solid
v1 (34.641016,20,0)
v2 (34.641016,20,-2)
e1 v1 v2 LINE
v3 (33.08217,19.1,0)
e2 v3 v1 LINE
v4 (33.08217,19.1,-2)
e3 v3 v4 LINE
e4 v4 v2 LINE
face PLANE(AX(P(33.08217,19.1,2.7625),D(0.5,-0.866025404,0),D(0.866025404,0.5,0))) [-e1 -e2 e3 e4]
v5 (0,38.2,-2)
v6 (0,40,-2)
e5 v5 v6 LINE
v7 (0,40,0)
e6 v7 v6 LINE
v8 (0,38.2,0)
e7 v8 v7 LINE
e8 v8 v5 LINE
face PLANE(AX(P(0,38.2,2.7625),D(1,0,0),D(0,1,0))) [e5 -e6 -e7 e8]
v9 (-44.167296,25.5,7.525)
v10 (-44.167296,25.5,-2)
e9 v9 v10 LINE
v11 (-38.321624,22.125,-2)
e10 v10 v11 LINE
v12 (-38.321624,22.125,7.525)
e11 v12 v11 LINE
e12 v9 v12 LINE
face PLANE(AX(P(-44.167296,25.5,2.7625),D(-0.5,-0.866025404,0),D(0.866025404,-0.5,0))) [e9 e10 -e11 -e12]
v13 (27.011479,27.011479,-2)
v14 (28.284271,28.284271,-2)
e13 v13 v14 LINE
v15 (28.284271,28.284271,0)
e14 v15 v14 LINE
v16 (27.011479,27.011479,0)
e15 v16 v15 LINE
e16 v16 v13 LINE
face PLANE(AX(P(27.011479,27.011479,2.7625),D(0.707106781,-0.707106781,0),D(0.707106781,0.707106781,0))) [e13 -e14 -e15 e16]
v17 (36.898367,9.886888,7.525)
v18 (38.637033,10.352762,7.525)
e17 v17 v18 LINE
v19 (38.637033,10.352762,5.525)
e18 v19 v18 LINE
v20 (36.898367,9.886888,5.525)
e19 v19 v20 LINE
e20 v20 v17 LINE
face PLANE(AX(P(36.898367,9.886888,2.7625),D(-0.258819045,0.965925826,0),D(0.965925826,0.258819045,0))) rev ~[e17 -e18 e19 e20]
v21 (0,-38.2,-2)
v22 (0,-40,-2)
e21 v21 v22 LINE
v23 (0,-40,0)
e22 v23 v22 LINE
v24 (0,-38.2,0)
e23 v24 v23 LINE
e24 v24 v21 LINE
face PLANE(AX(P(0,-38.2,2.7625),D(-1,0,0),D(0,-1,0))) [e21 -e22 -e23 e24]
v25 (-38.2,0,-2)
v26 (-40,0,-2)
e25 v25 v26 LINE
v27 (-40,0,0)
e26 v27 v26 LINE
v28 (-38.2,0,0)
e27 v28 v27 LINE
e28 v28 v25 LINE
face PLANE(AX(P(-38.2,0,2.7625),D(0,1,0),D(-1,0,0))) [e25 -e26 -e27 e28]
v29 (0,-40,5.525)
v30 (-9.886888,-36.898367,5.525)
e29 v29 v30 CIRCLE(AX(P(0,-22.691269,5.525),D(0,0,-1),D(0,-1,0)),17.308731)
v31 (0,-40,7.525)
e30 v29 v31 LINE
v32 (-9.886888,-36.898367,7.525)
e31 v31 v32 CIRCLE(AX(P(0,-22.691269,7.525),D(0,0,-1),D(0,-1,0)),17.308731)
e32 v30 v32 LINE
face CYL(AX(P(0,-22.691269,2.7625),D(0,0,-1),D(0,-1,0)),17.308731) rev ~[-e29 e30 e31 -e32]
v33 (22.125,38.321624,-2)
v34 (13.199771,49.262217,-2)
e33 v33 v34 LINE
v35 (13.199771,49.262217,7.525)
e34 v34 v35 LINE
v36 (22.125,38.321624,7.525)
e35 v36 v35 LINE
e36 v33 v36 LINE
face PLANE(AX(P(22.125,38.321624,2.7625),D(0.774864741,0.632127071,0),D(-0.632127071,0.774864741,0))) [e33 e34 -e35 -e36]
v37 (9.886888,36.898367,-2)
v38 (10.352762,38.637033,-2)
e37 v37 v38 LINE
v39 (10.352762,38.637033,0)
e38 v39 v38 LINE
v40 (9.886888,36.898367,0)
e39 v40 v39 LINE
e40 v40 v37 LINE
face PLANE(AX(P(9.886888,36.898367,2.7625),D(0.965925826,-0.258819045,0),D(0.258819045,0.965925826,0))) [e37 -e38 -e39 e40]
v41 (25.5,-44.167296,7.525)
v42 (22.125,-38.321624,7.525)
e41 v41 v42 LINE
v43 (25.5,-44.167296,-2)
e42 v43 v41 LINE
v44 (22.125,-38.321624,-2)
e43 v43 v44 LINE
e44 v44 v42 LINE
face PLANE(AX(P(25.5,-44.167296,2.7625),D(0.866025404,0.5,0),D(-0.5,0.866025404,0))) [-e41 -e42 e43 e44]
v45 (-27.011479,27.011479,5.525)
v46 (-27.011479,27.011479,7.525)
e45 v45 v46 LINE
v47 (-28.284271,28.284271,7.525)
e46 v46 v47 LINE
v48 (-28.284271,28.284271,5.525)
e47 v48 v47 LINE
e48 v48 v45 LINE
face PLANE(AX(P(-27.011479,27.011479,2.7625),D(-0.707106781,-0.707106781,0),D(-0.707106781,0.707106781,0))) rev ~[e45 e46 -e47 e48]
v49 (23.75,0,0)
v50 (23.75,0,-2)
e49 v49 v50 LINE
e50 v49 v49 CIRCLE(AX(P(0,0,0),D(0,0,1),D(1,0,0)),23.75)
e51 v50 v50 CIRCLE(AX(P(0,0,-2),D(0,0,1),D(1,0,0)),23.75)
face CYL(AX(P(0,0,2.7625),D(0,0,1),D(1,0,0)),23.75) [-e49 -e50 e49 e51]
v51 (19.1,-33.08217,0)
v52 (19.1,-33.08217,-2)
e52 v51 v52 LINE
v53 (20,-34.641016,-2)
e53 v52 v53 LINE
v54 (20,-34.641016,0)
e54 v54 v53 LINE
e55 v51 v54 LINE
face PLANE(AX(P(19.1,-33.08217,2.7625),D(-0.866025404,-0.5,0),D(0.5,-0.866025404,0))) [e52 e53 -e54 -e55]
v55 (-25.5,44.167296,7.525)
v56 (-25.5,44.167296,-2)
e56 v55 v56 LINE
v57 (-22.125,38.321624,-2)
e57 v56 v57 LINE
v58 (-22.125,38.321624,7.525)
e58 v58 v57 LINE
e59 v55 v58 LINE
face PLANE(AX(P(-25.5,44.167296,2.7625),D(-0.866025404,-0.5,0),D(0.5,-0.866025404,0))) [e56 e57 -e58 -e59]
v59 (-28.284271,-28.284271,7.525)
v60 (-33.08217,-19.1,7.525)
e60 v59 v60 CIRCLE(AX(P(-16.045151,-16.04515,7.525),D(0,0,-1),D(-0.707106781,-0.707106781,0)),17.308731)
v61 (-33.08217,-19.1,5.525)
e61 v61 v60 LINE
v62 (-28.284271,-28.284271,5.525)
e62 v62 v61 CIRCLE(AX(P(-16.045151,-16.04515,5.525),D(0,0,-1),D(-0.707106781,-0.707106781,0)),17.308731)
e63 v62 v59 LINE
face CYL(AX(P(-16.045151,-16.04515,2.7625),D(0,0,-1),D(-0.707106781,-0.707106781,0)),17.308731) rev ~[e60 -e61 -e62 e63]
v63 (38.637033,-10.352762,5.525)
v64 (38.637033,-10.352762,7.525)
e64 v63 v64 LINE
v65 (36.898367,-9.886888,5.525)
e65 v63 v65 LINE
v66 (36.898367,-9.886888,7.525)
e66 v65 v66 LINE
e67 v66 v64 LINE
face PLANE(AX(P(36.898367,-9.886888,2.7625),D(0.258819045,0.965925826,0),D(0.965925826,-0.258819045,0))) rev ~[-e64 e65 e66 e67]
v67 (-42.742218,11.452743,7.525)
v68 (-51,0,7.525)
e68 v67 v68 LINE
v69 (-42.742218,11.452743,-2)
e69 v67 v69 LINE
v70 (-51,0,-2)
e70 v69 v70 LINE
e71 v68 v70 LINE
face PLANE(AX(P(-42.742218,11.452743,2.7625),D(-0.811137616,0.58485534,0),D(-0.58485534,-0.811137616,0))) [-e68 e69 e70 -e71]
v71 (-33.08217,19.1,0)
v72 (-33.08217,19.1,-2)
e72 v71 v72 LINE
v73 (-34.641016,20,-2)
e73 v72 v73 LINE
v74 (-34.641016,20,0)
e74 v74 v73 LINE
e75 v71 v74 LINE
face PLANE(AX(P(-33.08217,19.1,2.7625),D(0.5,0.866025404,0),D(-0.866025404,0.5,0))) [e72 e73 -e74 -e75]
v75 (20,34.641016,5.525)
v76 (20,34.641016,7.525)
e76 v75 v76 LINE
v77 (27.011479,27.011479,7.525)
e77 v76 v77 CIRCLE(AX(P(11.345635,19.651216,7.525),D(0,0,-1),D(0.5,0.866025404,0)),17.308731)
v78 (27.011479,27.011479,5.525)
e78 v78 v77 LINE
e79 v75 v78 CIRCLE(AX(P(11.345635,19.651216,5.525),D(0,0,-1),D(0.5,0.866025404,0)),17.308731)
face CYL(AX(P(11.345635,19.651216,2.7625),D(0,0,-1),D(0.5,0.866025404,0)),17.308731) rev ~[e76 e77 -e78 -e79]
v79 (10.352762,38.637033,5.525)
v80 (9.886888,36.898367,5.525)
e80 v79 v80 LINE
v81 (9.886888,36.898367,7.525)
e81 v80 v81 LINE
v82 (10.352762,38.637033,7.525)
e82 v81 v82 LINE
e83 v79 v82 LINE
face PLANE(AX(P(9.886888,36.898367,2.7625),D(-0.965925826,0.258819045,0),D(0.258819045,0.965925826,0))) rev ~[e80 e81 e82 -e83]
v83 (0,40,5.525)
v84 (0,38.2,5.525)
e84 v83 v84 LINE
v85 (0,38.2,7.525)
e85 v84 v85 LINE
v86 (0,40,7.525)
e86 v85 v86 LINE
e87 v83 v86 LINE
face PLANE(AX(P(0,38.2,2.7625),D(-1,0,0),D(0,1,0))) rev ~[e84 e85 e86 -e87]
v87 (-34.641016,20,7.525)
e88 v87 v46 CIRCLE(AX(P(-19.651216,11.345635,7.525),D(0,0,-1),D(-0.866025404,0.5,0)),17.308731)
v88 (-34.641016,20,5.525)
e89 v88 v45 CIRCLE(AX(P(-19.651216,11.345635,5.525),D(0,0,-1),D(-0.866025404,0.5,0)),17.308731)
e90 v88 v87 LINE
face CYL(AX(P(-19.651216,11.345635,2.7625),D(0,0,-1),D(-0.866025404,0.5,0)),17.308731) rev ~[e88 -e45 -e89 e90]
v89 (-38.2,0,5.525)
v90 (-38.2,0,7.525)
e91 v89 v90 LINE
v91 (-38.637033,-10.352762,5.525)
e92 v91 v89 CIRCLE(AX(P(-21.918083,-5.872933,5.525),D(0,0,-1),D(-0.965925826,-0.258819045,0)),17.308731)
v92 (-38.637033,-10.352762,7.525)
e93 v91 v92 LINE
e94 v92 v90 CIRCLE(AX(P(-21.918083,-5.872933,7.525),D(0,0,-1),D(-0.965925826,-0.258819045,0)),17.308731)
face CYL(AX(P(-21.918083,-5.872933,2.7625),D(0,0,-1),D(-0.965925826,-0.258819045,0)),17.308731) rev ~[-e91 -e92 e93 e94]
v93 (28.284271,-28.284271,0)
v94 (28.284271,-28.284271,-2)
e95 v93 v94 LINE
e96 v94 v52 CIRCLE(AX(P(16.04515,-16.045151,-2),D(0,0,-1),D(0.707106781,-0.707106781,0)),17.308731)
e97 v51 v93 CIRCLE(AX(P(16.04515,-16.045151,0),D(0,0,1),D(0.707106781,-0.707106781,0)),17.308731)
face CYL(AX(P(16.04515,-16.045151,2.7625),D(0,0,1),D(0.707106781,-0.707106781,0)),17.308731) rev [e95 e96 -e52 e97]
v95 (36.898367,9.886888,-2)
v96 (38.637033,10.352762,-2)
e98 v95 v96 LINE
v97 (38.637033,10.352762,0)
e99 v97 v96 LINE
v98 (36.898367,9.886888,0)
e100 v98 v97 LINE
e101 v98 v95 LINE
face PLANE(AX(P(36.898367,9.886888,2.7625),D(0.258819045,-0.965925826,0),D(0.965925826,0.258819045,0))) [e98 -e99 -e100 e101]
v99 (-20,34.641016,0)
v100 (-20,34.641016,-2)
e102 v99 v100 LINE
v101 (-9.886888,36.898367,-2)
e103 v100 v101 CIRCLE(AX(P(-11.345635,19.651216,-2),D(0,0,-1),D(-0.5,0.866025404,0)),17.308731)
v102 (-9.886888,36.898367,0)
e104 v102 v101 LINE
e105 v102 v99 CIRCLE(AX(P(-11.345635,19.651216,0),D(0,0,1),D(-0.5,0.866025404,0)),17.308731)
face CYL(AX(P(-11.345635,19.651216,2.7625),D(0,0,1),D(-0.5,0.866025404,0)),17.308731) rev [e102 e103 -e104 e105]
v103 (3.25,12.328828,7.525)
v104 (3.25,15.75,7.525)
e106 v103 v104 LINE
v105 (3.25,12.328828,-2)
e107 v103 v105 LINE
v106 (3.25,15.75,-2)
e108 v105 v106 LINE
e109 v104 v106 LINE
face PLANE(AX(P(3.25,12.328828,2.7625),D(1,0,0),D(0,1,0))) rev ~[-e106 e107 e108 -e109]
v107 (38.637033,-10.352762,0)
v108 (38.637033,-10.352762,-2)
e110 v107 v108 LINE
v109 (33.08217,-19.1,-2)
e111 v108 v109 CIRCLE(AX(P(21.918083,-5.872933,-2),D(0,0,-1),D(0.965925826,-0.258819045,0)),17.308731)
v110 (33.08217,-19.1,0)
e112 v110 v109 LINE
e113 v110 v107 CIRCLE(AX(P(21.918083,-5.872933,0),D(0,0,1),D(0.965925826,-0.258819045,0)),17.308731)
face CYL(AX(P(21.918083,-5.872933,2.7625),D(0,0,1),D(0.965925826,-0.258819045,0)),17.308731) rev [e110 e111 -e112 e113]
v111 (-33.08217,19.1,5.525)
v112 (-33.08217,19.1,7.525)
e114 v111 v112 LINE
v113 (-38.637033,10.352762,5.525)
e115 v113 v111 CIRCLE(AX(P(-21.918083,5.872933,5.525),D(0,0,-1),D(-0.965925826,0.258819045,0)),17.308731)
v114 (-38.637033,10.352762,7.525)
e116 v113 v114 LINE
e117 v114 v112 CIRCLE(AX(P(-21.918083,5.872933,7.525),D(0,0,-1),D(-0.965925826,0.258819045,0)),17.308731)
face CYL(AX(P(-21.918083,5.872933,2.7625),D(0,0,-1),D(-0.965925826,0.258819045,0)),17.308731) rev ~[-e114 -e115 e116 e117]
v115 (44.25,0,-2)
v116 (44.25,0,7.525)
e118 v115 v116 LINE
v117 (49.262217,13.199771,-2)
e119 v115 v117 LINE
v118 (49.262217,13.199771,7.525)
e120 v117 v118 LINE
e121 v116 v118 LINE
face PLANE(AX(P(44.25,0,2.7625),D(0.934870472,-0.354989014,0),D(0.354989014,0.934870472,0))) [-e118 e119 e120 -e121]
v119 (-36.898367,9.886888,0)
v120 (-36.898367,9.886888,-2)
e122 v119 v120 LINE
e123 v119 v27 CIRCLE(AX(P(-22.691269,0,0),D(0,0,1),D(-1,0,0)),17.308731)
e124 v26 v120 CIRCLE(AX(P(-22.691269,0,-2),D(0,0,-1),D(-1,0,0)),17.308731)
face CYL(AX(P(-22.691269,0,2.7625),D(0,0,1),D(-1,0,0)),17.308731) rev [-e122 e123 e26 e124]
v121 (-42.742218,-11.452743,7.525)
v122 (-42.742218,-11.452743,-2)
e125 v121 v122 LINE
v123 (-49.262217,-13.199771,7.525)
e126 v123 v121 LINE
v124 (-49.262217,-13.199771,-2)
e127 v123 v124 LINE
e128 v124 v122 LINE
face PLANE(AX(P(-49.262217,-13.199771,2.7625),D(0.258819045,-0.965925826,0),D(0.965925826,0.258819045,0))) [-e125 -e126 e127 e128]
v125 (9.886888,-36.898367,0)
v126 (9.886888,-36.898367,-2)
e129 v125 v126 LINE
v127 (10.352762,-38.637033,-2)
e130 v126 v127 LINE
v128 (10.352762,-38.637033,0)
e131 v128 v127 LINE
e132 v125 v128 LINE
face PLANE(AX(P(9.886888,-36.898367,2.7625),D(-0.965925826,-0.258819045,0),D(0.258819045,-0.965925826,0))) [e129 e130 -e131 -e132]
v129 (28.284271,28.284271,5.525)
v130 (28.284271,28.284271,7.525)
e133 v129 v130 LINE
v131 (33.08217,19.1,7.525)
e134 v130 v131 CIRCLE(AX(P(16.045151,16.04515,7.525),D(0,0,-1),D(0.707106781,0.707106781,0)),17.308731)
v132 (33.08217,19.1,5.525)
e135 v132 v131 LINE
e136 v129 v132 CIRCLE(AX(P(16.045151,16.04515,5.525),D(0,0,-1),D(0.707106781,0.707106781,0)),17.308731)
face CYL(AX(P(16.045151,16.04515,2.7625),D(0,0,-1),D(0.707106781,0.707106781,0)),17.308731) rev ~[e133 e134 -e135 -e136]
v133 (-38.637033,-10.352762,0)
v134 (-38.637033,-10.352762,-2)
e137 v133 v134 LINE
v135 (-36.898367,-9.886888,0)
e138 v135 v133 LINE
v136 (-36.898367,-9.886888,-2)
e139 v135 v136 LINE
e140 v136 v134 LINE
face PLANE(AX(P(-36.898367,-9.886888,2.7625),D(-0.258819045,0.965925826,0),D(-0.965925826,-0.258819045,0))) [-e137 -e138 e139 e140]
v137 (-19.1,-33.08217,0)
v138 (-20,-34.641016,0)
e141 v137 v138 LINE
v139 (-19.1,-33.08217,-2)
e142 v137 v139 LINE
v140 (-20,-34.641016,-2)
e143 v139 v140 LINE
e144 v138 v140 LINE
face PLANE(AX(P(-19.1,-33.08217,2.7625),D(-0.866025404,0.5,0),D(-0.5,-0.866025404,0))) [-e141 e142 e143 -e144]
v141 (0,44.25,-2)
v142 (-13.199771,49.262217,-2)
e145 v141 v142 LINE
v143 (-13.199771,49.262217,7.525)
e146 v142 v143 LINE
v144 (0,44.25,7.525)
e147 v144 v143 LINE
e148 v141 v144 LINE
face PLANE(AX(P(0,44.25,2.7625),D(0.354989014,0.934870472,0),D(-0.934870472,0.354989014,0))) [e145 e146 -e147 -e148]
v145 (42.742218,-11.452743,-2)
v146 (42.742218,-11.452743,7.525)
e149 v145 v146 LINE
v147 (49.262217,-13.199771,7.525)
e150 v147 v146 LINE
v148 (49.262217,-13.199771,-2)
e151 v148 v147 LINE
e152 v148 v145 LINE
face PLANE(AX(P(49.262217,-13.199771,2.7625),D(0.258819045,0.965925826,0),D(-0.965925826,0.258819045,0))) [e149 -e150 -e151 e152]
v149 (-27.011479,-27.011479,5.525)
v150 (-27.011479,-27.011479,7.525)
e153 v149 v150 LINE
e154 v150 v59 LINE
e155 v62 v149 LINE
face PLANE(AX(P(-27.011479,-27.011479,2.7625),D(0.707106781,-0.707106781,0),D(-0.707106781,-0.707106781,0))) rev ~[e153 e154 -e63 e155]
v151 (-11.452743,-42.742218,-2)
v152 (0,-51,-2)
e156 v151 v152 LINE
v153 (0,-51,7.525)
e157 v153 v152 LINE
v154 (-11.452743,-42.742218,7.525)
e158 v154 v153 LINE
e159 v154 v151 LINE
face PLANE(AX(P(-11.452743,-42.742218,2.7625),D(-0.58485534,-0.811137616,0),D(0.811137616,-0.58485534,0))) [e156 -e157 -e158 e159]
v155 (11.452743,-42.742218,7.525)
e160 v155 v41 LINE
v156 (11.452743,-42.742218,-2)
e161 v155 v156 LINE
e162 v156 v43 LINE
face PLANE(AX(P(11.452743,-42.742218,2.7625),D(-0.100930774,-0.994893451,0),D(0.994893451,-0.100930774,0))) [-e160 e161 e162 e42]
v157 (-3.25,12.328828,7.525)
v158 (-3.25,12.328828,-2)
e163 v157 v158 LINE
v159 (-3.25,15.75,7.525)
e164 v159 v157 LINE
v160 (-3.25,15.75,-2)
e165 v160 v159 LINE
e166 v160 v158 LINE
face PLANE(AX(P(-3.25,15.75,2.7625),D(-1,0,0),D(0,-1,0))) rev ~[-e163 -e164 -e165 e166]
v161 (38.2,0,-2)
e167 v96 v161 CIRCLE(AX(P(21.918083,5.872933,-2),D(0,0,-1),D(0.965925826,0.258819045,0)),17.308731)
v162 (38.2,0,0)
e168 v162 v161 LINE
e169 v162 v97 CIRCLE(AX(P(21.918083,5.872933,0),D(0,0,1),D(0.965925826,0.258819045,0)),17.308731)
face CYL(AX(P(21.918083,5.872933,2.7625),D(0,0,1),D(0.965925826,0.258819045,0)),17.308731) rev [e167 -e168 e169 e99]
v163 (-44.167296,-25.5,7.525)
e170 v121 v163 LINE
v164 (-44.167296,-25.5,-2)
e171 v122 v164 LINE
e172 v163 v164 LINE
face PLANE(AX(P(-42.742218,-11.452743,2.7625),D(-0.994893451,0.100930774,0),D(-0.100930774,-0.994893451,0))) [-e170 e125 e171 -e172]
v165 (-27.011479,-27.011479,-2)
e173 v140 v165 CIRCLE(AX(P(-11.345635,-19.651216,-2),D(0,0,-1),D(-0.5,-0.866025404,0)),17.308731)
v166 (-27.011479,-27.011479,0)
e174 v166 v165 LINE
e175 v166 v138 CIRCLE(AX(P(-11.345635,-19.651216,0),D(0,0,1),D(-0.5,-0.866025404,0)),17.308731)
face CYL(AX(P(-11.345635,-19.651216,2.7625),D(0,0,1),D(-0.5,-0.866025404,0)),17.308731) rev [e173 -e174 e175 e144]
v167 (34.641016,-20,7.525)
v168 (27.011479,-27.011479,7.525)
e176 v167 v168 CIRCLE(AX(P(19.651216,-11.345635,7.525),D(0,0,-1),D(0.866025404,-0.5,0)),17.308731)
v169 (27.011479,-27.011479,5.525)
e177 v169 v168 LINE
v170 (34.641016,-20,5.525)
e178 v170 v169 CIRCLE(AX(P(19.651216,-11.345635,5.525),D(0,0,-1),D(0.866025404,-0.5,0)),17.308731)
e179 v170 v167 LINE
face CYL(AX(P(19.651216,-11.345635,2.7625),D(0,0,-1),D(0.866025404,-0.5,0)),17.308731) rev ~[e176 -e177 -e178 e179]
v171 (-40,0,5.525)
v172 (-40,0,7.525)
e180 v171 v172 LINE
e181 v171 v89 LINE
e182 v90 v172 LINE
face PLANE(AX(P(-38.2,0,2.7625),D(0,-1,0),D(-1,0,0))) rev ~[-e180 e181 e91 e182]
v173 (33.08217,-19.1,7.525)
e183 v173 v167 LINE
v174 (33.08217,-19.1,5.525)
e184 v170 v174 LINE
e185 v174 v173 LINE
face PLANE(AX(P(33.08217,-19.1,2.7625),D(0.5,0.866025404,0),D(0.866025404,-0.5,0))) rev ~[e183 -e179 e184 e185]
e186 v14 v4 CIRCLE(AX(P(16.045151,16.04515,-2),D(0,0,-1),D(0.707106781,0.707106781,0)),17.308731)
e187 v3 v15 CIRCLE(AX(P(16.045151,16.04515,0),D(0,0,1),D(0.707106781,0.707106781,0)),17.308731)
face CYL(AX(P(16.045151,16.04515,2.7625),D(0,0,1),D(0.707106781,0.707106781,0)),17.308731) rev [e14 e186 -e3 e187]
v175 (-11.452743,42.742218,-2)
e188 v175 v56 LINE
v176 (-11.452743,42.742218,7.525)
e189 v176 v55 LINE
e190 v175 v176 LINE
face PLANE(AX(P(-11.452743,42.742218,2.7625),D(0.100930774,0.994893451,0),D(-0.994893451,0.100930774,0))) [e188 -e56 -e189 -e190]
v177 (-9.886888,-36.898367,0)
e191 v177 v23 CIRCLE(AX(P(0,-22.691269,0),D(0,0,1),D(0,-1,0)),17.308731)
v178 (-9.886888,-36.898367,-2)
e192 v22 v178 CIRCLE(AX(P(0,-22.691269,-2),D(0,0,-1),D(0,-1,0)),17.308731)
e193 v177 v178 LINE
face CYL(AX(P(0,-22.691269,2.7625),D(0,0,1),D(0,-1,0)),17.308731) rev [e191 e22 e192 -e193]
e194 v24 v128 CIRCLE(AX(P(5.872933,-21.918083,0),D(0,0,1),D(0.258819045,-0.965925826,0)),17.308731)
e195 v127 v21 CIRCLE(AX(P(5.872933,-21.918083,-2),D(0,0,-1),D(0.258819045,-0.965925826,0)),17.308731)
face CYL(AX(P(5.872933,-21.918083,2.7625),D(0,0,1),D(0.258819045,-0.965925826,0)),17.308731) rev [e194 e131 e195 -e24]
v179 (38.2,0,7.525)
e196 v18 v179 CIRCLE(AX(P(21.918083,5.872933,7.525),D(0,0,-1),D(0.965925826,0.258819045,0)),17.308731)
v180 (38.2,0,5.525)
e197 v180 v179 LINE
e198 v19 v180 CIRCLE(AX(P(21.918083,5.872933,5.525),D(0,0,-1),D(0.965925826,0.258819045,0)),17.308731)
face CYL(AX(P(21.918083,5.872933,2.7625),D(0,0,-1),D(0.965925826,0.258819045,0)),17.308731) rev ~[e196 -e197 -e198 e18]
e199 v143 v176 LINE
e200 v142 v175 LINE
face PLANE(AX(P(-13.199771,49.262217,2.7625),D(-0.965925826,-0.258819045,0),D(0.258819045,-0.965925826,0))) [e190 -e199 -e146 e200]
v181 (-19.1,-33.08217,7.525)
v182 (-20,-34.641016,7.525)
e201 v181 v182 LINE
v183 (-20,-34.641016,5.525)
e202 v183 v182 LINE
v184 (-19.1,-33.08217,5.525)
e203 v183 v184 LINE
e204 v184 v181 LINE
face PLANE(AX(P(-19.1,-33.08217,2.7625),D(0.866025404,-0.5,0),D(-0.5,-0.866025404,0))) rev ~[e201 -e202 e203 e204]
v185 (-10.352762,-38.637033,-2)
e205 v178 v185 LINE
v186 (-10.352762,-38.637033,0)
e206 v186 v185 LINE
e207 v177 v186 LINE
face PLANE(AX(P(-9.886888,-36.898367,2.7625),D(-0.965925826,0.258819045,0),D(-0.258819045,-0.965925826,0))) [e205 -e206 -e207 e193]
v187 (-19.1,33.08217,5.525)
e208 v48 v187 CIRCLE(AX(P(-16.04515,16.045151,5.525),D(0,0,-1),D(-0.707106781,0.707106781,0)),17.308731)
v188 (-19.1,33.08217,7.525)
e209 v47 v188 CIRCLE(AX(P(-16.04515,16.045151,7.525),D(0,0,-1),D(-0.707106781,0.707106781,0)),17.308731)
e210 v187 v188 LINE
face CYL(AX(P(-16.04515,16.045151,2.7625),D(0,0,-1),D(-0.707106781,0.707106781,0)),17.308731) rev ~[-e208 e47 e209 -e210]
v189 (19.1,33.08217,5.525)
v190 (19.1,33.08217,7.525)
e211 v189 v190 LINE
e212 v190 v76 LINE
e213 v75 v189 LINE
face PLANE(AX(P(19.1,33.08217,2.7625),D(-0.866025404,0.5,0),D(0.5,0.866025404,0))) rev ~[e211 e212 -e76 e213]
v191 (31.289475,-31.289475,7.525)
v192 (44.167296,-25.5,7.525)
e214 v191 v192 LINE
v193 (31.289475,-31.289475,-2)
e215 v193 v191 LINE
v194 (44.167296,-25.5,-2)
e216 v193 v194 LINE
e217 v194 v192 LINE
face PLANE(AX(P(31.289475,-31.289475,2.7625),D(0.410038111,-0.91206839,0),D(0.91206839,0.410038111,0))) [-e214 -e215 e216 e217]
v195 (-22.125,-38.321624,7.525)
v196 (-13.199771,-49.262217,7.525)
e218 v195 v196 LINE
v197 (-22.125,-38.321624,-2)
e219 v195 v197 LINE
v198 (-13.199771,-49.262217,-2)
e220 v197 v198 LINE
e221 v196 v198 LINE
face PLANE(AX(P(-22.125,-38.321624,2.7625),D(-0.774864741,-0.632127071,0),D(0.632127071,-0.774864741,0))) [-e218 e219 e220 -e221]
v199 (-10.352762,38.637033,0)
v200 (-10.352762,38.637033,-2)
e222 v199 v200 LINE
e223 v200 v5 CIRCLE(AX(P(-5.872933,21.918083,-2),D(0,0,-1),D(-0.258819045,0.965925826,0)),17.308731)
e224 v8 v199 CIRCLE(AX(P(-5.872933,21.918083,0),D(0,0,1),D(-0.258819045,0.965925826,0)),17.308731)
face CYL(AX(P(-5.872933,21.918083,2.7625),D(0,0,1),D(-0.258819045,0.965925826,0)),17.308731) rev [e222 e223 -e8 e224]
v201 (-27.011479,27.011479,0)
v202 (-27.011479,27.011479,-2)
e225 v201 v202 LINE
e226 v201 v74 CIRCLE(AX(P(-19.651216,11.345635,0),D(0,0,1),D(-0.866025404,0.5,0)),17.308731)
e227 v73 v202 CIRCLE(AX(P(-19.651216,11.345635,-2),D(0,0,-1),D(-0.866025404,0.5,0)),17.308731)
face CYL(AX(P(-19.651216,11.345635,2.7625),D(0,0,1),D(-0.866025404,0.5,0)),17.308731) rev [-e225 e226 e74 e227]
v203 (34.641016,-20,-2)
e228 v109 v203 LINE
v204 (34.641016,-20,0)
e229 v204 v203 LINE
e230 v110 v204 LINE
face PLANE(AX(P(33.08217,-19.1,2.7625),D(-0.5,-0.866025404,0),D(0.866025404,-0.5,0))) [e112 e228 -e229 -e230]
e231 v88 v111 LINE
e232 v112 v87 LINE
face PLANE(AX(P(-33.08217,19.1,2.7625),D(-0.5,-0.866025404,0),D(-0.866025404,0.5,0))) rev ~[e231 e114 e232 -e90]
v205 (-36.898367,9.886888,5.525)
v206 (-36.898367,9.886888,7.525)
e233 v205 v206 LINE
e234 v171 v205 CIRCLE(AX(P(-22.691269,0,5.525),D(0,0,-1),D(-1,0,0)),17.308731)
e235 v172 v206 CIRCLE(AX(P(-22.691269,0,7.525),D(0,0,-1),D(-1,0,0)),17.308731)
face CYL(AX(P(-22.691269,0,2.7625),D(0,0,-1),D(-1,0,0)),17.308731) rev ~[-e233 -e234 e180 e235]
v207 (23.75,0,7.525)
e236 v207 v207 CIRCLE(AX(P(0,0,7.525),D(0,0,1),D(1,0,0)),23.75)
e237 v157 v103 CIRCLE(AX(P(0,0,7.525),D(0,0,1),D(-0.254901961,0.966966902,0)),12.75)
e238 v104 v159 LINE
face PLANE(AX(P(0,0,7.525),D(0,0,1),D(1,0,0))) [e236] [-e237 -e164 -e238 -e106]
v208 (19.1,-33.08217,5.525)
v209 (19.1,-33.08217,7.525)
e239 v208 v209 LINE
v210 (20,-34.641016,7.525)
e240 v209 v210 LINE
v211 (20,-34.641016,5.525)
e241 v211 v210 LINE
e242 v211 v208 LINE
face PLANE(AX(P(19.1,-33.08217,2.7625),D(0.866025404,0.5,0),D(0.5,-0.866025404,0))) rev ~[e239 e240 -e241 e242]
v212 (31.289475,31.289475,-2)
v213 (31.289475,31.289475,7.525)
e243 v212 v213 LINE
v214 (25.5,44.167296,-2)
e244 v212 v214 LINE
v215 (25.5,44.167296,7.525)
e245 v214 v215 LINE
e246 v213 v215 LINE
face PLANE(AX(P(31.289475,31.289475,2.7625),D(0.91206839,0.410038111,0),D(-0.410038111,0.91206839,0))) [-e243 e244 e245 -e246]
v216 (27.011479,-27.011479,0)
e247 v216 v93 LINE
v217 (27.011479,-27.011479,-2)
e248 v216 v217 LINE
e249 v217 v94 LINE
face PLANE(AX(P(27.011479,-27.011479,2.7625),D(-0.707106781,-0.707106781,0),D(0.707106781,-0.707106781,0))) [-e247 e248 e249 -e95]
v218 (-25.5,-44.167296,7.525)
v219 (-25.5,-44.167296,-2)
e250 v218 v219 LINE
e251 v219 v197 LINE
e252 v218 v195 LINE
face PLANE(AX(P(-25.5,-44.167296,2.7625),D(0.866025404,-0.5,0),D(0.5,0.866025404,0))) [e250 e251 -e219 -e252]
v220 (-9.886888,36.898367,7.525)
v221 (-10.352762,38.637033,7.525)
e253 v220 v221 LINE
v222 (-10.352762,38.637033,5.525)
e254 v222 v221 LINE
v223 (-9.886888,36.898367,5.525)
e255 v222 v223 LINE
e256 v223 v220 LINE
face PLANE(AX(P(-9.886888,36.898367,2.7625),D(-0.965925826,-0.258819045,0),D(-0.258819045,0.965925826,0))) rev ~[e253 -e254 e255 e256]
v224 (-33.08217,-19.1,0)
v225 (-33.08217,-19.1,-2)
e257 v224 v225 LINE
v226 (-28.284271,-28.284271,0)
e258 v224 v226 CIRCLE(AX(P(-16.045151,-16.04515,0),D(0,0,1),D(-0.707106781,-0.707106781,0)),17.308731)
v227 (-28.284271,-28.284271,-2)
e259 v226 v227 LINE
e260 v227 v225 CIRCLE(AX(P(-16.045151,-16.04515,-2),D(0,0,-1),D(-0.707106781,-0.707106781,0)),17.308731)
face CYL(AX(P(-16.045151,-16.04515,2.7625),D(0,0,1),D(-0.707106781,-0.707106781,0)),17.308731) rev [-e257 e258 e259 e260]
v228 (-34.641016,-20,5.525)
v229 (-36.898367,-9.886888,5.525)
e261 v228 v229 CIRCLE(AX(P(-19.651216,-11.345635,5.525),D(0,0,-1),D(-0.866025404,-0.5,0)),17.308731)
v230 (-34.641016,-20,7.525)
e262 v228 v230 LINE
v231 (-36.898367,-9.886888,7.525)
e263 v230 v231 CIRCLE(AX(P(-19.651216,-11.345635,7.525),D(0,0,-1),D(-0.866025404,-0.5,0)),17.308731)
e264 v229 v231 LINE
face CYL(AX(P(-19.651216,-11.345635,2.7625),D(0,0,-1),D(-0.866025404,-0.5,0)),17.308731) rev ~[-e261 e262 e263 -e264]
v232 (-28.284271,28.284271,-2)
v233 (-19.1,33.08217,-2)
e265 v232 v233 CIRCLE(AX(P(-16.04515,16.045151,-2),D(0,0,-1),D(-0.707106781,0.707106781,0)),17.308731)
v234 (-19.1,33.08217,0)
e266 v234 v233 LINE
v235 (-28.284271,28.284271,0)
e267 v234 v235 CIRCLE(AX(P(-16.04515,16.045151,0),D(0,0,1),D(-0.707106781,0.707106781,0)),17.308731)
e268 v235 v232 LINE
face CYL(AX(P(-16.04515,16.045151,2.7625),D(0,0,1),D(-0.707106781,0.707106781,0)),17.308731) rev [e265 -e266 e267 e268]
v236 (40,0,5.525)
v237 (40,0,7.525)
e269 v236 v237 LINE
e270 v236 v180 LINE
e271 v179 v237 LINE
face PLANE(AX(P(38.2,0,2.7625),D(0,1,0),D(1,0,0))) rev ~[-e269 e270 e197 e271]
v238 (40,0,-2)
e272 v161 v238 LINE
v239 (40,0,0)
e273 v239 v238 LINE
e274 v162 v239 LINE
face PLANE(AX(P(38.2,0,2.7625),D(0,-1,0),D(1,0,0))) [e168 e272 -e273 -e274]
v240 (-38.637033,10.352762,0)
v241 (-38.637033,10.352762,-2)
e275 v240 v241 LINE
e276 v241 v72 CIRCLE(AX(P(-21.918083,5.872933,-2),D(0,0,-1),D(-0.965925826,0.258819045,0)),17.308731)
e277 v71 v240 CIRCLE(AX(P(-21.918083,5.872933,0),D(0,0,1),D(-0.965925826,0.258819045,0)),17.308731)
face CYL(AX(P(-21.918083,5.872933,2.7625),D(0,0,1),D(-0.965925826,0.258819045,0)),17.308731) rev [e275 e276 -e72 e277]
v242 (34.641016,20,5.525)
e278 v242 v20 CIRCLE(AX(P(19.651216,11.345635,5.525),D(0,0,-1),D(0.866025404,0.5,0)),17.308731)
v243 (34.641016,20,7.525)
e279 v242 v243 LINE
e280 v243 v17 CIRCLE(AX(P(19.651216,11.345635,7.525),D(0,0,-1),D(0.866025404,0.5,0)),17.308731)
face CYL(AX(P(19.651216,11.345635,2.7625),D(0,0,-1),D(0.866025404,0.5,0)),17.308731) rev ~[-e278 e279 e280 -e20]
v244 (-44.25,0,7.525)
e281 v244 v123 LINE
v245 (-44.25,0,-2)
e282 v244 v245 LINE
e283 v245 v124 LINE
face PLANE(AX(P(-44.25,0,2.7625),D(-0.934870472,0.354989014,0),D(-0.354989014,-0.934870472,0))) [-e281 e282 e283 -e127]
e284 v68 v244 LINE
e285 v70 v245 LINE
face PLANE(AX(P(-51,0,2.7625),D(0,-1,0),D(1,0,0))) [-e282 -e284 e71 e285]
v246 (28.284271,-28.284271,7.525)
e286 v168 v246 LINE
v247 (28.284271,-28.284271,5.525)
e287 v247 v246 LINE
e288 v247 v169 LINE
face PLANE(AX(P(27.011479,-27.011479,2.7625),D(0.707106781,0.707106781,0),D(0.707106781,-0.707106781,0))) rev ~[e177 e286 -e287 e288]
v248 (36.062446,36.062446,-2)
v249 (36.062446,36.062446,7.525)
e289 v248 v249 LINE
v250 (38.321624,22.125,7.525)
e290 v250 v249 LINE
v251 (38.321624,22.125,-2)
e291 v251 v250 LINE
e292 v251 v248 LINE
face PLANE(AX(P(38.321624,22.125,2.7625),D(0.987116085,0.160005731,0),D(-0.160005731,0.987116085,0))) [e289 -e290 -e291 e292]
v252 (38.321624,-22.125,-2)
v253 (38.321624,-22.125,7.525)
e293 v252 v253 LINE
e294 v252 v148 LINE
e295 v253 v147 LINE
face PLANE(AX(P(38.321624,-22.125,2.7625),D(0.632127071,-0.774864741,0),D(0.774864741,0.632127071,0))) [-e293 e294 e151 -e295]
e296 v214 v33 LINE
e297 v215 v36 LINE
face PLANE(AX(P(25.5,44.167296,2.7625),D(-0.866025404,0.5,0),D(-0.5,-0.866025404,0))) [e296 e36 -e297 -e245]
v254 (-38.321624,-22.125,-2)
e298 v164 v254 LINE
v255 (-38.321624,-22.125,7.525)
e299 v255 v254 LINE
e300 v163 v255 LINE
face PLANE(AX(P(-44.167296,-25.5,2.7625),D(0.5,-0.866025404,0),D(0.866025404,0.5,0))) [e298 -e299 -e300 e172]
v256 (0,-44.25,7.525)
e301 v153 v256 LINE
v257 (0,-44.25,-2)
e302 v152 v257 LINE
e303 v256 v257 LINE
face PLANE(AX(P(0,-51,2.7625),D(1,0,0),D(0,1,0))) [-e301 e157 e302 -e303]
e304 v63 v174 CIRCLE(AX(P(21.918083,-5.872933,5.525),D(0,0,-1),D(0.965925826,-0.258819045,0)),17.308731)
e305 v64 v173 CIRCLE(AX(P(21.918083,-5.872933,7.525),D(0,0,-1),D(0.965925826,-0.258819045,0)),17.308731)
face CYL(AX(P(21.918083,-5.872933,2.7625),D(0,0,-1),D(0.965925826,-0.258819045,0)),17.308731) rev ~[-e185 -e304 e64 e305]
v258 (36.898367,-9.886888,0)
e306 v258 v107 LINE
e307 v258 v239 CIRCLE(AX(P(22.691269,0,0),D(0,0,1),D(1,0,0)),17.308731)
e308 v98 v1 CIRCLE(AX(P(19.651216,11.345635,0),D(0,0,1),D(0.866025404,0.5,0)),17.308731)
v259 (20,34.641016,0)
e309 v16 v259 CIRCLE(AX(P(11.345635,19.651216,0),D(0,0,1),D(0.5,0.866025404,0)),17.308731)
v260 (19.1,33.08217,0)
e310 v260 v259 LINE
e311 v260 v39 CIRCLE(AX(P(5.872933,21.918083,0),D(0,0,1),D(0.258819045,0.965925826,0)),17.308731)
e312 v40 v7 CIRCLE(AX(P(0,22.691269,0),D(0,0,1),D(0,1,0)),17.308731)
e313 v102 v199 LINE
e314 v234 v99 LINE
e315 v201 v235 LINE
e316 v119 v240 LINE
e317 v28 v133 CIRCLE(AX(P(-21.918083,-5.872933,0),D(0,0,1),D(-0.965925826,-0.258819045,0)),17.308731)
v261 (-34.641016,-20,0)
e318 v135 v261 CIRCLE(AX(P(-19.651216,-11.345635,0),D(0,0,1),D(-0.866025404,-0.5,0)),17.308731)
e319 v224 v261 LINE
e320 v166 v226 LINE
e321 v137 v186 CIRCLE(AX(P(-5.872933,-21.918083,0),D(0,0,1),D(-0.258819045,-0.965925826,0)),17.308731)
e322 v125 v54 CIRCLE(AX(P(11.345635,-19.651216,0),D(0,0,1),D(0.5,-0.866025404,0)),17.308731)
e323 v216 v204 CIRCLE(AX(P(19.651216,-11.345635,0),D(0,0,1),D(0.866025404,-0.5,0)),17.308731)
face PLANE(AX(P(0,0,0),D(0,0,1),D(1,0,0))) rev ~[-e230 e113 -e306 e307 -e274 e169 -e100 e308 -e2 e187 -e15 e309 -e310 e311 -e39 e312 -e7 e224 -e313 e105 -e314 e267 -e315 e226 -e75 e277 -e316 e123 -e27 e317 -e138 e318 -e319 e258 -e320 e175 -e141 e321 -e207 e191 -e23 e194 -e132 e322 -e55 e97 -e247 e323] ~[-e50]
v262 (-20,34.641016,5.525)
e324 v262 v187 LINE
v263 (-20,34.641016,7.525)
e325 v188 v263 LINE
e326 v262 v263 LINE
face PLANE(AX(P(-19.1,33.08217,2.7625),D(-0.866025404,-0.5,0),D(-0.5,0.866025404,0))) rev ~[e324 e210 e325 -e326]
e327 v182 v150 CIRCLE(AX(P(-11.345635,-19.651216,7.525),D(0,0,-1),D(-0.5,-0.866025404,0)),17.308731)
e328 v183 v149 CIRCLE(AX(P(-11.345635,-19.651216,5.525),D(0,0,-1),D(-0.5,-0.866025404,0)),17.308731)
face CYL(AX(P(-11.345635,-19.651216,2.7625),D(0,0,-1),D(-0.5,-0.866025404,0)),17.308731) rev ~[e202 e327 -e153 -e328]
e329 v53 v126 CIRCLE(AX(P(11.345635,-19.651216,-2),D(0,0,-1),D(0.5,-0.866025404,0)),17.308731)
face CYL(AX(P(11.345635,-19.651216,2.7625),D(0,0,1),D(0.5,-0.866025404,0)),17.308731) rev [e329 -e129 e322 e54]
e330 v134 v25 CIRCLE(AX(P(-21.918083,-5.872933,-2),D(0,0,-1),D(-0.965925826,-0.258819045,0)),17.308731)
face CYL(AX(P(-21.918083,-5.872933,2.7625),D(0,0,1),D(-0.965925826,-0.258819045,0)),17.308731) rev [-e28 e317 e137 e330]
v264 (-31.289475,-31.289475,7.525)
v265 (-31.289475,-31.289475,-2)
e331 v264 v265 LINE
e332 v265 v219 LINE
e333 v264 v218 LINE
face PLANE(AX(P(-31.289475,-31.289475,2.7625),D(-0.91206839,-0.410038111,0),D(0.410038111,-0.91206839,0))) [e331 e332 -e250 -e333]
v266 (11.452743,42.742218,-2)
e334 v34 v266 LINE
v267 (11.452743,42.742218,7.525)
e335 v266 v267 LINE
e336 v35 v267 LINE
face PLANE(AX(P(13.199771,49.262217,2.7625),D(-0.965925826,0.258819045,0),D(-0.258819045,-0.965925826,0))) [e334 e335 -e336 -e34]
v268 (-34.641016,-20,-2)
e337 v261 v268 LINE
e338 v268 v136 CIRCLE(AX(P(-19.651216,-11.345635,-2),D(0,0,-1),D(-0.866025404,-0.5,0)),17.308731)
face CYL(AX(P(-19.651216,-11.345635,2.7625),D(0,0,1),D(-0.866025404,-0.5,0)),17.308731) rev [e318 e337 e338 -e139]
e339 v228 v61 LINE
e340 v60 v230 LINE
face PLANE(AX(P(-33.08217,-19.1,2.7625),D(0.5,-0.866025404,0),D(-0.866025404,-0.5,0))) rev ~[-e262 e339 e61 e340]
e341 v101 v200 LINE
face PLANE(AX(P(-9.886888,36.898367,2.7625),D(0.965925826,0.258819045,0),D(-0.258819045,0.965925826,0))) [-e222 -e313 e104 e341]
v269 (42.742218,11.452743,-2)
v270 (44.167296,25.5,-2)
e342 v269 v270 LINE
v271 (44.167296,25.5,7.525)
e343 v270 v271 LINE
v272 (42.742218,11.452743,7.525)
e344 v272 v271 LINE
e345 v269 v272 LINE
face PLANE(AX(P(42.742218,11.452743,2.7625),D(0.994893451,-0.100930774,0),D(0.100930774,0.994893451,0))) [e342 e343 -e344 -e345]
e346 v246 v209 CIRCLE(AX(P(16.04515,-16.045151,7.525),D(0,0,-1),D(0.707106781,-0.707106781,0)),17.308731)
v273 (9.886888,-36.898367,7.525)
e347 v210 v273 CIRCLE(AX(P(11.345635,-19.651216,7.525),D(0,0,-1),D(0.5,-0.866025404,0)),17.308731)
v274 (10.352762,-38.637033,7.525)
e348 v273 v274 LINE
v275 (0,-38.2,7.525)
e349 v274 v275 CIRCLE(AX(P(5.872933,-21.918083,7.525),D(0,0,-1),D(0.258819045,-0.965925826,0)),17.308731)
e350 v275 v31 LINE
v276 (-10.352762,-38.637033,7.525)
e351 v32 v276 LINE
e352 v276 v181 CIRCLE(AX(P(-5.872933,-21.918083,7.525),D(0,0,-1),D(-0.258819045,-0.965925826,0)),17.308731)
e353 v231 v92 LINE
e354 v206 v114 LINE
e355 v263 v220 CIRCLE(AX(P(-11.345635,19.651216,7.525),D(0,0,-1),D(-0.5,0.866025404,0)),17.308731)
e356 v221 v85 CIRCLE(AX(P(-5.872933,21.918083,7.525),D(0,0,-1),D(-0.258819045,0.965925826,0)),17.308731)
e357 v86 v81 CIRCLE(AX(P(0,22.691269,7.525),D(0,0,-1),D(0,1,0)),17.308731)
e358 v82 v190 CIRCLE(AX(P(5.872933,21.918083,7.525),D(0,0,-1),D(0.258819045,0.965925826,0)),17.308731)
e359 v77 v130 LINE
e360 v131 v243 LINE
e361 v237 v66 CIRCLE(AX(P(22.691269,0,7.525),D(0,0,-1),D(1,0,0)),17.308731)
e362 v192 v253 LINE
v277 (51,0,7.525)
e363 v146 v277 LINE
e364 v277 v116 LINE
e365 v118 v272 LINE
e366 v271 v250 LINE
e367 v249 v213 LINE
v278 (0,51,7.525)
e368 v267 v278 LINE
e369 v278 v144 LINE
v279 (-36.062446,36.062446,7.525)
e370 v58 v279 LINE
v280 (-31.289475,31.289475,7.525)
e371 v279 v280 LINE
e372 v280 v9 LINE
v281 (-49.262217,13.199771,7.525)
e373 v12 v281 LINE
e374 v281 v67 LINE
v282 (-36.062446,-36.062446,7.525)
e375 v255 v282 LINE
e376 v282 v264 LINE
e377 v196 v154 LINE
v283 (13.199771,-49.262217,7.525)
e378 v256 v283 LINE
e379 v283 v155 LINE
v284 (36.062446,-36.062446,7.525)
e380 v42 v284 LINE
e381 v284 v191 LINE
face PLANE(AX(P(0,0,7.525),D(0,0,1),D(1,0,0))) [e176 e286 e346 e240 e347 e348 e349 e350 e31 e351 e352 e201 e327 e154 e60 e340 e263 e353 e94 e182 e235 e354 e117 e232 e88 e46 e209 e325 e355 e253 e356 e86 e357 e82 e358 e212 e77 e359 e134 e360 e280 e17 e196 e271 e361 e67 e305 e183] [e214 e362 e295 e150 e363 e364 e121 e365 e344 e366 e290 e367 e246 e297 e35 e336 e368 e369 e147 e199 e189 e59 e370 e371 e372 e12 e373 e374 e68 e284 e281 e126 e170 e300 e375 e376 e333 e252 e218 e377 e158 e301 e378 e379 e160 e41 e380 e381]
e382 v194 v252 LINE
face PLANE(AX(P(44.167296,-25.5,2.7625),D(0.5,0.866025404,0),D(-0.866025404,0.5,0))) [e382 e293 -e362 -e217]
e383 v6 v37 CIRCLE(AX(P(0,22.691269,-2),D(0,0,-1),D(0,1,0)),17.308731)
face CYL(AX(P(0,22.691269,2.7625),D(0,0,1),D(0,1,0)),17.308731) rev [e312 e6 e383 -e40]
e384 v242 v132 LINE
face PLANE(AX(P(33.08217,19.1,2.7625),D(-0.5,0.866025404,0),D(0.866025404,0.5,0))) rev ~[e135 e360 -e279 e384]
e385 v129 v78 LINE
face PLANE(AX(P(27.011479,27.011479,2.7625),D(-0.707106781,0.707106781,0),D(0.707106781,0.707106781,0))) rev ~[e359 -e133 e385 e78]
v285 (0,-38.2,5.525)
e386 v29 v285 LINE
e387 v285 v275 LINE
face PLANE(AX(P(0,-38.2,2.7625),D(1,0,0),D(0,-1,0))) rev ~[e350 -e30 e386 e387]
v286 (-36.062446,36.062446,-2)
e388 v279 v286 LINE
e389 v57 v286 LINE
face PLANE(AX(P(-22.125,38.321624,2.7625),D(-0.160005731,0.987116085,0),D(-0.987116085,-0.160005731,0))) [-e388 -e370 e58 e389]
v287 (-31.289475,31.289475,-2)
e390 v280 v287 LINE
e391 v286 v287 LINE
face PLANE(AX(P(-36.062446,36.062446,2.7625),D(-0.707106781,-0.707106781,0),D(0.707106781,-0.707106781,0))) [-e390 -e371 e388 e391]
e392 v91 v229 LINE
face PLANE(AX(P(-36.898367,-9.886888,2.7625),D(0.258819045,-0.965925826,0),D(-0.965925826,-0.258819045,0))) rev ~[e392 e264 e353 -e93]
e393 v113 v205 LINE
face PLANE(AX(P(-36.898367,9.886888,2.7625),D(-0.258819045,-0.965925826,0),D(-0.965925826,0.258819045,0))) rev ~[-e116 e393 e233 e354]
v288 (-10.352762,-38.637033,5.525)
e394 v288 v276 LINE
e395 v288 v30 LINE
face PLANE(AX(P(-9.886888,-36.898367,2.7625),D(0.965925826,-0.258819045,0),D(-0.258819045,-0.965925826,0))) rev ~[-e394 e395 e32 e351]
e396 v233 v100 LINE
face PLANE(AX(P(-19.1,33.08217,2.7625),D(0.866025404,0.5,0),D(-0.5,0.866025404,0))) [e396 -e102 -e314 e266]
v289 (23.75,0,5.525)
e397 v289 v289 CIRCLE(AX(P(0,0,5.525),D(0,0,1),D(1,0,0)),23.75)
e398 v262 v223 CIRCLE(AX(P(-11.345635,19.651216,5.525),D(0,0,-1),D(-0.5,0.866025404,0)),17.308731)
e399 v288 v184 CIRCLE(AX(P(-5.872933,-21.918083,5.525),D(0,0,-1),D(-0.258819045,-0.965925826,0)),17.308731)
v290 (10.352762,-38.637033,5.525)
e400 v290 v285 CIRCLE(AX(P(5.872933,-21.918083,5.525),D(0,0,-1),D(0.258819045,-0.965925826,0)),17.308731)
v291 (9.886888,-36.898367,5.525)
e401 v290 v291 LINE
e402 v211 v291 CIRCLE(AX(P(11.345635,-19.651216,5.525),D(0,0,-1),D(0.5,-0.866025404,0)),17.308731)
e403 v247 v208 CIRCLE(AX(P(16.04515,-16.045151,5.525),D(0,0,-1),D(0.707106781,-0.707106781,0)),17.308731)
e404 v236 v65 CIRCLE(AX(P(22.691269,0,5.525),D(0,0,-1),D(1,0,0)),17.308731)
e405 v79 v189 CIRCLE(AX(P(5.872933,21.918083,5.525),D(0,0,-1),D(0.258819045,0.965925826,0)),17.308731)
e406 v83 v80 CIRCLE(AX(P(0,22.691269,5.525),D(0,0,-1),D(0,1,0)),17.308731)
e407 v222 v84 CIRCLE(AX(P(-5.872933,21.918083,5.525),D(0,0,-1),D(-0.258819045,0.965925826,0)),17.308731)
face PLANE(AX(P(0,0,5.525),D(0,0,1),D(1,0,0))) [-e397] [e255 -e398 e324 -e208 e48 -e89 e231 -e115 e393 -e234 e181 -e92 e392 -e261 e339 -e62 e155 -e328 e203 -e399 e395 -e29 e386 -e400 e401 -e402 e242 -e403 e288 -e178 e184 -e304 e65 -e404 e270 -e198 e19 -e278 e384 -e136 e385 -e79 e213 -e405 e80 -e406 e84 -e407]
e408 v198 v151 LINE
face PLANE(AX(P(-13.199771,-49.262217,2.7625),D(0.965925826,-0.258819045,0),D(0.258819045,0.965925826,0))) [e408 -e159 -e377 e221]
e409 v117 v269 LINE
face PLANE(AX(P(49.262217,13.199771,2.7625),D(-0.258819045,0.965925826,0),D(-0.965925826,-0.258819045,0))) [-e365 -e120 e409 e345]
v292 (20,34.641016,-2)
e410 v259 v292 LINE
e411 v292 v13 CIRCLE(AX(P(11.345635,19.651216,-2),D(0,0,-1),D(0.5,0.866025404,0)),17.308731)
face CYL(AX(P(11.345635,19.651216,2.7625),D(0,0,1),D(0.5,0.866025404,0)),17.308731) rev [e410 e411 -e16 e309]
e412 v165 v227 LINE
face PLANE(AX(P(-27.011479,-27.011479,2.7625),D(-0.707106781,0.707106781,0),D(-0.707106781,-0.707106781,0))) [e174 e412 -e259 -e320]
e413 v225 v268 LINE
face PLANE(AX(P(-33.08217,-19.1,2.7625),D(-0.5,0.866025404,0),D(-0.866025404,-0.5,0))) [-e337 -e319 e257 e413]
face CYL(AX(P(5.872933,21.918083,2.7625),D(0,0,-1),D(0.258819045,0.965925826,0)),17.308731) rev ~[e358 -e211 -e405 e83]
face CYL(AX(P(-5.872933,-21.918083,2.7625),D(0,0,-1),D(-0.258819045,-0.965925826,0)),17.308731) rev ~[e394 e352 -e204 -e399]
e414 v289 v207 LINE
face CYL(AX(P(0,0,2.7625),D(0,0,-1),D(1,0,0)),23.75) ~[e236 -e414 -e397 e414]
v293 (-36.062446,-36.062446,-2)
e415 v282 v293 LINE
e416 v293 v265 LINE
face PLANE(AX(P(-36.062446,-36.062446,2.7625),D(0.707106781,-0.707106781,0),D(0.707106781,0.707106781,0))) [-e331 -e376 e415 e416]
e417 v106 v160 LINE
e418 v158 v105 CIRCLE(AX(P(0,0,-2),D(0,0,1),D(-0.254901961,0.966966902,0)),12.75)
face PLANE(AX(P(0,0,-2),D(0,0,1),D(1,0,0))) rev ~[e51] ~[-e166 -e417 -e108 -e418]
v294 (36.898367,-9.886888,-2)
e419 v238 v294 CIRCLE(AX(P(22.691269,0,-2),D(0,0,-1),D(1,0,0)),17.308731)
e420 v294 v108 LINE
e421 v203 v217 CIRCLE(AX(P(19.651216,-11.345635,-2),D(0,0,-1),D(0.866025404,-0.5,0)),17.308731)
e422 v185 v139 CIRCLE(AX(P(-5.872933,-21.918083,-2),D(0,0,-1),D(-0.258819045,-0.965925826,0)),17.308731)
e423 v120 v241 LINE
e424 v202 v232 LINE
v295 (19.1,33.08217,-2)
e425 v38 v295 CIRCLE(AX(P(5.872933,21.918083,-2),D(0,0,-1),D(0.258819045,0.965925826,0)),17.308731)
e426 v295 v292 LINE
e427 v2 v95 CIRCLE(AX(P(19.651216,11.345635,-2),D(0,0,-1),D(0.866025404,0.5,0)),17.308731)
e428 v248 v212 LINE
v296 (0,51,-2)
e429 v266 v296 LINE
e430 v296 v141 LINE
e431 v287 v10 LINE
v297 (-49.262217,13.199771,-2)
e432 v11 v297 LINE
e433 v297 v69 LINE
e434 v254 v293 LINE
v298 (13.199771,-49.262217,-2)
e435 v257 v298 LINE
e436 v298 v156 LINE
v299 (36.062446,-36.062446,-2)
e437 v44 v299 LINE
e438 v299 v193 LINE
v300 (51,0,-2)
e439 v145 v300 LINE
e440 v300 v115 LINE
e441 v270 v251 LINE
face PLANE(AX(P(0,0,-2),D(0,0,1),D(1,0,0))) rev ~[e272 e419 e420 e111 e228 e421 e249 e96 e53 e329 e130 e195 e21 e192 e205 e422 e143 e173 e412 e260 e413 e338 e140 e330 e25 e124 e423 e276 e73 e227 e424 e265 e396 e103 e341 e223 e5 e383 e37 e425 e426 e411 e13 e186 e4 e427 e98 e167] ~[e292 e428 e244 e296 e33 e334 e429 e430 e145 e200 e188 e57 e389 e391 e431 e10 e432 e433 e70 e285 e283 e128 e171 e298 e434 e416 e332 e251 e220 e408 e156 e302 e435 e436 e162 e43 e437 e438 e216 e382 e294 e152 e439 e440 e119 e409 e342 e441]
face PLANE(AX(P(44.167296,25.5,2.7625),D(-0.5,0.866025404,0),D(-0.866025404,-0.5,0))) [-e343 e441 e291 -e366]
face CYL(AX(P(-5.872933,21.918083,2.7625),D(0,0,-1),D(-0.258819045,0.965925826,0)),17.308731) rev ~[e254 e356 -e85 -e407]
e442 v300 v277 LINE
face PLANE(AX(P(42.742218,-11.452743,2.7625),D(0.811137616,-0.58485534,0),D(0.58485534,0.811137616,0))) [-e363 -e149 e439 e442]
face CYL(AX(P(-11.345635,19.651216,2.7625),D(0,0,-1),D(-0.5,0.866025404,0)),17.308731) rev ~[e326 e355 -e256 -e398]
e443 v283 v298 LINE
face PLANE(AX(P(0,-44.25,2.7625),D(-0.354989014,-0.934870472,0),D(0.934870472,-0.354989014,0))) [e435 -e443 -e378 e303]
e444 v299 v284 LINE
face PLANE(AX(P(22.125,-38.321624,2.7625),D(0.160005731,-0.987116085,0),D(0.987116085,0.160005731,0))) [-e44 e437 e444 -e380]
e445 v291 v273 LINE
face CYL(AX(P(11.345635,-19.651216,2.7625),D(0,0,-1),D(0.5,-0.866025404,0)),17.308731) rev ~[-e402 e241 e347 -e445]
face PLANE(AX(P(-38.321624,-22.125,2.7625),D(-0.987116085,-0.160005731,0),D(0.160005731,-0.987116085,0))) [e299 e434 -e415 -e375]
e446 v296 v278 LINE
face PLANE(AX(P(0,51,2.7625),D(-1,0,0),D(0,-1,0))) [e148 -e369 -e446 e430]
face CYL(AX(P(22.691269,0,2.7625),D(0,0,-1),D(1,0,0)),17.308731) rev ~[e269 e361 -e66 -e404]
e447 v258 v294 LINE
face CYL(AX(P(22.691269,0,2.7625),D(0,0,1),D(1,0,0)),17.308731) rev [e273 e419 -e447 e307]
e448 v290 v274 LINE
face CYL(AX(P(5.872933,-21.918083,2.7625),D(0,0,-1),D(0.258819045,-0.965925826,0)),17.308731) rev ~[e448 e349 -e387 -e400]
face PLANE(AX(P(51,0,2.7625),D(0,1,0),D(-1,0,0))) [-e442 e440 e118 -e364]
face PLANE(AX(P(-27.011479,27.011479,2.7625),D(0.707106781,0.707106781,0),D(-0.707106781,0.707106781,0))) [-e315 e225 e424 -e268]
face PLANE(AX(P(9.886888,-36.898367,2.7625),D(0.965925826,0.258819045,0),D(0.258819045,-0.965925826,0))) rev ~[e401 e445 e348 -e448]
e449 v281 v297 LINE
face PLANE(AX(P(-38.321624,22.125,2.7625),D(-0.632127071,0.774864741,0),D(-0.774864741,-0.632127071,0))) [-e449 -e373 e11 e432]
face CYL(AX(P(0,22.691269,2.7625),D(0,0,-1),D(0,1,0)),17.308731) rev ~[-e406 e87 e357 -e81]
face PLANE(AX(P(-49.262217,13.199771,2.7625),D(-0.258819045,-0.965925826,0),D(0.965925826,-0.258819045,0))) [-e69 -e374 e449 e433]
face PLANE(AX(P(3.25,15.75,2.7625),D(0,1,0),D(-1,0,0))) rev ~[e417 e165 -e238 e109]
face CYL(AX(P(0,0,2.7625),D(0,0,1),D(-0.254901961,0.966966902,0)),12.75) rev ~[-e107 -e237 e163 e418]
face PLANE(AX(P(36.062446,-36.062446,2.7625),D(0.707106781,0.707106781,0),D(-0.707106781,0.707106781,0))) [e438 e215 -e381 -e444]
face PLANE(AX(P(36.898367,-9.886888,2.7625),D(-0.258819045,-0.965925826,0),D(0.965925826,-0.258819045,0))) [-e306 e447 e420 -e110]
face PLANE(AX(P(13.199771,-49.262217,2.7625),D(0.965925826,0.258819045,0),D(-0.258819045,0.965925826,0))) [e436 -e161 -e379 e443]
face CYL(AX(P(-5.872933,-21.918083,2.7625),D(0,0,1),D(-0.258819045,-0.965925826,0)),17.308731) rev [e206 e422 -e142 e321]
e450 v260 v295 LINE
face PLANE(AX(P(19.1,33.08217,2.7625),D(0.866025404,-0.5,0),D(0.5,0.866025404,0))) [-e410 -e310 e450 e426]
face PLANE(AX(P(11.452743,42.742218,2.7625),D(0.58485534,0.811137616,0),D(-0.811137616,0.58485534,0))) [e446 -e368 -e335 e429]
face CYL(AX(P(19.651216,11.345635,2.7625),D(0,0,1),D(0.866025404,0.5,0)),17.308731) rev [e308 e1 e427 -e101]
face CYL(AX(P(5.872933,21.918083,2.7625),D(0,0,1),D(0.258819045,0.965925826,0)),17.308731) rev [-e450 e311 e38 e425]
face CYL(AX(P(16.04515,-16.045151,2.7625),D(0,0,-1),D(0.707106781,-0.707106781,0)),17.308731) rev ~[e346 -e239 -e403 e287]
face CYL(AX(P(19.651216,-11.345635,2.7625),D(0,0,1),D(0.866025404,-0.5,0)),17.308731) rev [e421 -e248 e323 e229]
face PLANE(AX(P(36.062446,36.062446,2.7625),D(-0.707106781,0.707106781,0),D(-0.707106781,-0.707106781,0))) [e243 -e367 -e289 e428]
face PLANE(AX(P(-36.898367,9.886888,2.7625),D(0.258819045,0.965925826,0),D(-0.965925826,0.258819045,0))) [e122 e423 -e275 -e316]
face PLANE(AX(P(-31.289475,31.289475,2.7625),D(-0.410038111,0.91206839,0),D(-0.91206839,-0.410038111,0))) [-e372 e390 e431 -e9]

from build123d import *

# Parameters (mm, degrees)
CROQUIS1_R                   = 23.75
CROQUIS1_R_2                 = 40
SALIENTE_EXTRUIR1_DEPTH      = 5.525
CROQUIS3_R                   = 23.75
SALIENTE_EXTRUIR3_DEPTH      = 4.7625
SALIENTE_EXTRUIR3_DEPTH_BACK = 4.7625
SALIENTE_EXTRUIR9_DEPTH      = 4.7625
SALIENTE_EXTRUIR9_DEPTH_BACK = 4.7625


with BuildPart() as part:
    # Croquis1 → Saliente-Extruir1 (new body)
    with BuildSketch(Plane.XY):
        Circle(CROQUIS1_R)
        with BuildLine():
            ThreePointArc((-3.25, 12.328828006), (0, -12.75), (3.25, 12.328828006))
            Line((3.25, 12.328828006), (3.25, 15.75))
            Line((3.25, 15.75), (-3.25, 15.75))
            Line((-3.25, 15.75), (-3.25, 12.328828006))
        make_face(mode=Mode.SUBTRACT)
        Circle(CROQUIS1_R_2)
        Circle(CROQUIS1_R, mode=Mode.SUBTRACT)
    extrude(amount=SALIENTE_EXTRUIR1_DEPTH)

    # Croquis3 → Saliente-Extruir3 (add, two sides)
    with BuildSketch(Plane.XY.offset(2.7625)) as saliente_extruir3_sk:
        Circle(CROQUIS3_R)
        with BuildLine():
            Line((-3.25, 15.75), (-3.25, 12.328828006))
            ThreePointArc((-3.25, 12.328828006), (0, -12.75), (3.25, 12.328828006))
            Line((3.25, 12.328828006), (3.25, 15.75))
            Line((3.25, 15.75), (-3.25, 15.75))
        make_face(mode=Mode.SUBTRACT)
    extrude(amount=SALIENTE_EXTRUIR3_DEPTH)
    extrude(saliente_extruir3_sk.sketch, amount=-SALIENTE_EXTRUIR3_DEPTH_BACK)

    # Croquis5 → Saliente-Extruir9 (add, two sides)
    with BuildSketch(Plane.XY.offset(2.7625)) as saliente_extruir9_sk:
        Polygon((11.452742746, -42.742217813), (25.5, -44.167295593), (22.125, -38.321624117), (36.062445841, -36.062445841), (31.289475068, -31.289475068), (44.167295593, -25.5), (38.321624117, -22.125), (49.262217141, -13.1997713), (42.742217813, -11.452742746), (51, 0), (44.25, 0), (49.262217141, 13.1997713), (42.742217813, 11.452742746), (44.167295593, 25.5), (38.321624117, 22.125), (36.062445841, 36.062445841), (31.289475068, 31.289475068), (25.5, 44.167295593), (22.125, 38.321624117), (13.1997713, 49.262217141), (11.452742746, 42.742217813), (0, 51), (0, 44.25), (-13.1997713, 49.262217141), (-11.452742746, 42.742217813), (-25.5, 44.167295593), (-22.125, 38.321624117), (-36.062445841, 36.062445841), (-31.289475068, 31.289475068), (-44.167295593, 25.5), (-38.321624117, 22.125), (-49.262217141, 13.1997713), (-42.742217813, 11.452742746), (-51, 0), (-44.25, 0), (-49.262217141, -13.1997713), (-42.742217813, -11.452742746), (-44.167295593, -25.5), (-38.321624117, -22.125), (-36.062445841, -36.062445841), (-31.289475068, -31.289475068), (-25.5, -44.167295593), (-22.125, -38.321624117), (-13.1997713, -49.262217141), (-11.452742746, -42.742217813), (0, -51), (0, -44.25), (13.1997713, -49.262217141), align=None)
        with BuildLine():
            Line((0, 38.2), (0, 40))
            ThreePointArc((0, 40), (5.180991094, 39.20639841), (9.886887523, 36.898366564))
            Line((9.886887523, 36.898366564), (10.352761804, 38.637033052))
            ThreePointArc((10.352761804, 38.637033052), (15.151815702, 36.529533612), (19.1, 33.082170425))
            Line((19.1, 33.082170425), (20, 34.641016151))
            ThreePointArc((20, 34.641016151), (24.090069109, 31.363241467), (27.011479041, 27.011479041))
            Line((27.011479041, 27.011479041), (28.284271247, 28.284271247))
            ThreePointArc((28.284271247, 28.284271247), (31.386624117, 24.059596246), (33.082170425, 19.1))
            Line((33.082170425, 19.1), (34.641016151, 20))
            ThreePointArc((34.641016151, 20), (36.544232561, 15.116329301), (36.898366564, 9.886887523))
            Line((36.898366564, 9.886887523), (38.637033052, 10.352761804))
            ThreePointArc((38.637033052, 10.352761804), (39.211411947, 5.142909495), (38.2, 0))
            Line((38.2, 0), (40, 0))
            ThreePointArc((40, 0), (39.20639841, -5.180991094), (36.898366564, -9.886887523))
            Line((36.898366564, -9.886887523), (38.637033052, -10.352761804))
            ThreePointArc((38.637033052, -10.352761804), (36.529533612, -15.151815702), (33.082170425, -19.1))
            Line((33.082170425, -19.1), (34.641016151, -20))
            ThreePointArc((34.641016151, -20), (31.363241467, -24.090069109), (27.011479041, -27.011479041))
            Line((27.011479041, -27.011479041), (28.284271247, -28.284271247))
            ThreePointArc((28.284271247, -28.284271247), (24.059596246, -31.386624117), (19.1, -33.082170425))
            Line((19.1, -33.082170425), (20, -34.641016151))
            ThreePointArc((20, -34.641016151), (15.116329301, -36.544232561), (9.886887523, -36.898366564))
            Line((9.886887523, -36.898366564), (10.352761804, -38.637033052))
            ThreePointArc((10.352761804, -38.637033052), (5.142909495, -39.211411947), (0, -38.2))
            Line((0, -38.2), (0, -40))
            ThreePointArc((0, -40), (-5.180991094, -39.20639841), (-9.886887523, -36.898366564))
            Line((-9.886887523, -36.898366564), (-10.352761804, -38.637033052))
            ThreePointArc((-10.352761804, -38.637033052), (-15.151815702, -36.529533612), (-19.1, -33.082170425))
            Line((-19.1, -33.082170425), (-20, -34.641016151))
            ThreePointArc((-20, -34.641016151), (-24.090069109, -31.363241467), (-27.011479041, -27.011479041))
            Line((-27.011479041, -27.011479041), (-28.284271247, -28.284271247))
            ThreePointArc((-28.284271247, -28.284271247), (-31.386624117, -24.059596246), (-33.082170425, -19.1))
            Line((-33.082170425, -19.1), (-34.641016151, -20))
            ThreePointArc((-34.641016151, -20), (-36.544232561, -15.116329301), (-36.898366564, -9.886887523))
            Line((-36.898366564, -9.886887523), (-38.637033052, -10.352761804))
            ThreePointArc((-38.637033052, -10.352761804), (-39.211411947, -5.142909495), (-38.2, 0))
            Line((-38.2, 0), (-40, 0))
            ThreePointArc((-40, 0), (-39.20639841, 5.180991094), (-36.898366564, 9.886887523))
            Line((-36.898366564, 9.886887523), (-38.637033052, 10.352761804))
            ThreePointArc((-38.637033052, 10.352761804), (-36.529533612, 15.151815702), (-33.082170425, 19.1))
            Line((-33.082170425, 19.1), (-34.641016151, 20))
            ThreePointArc((-34.641016151, 20), (-31.363241467, 24.090069109), (-27.011479041, 27.011479041))
            Line((-27.011479041, 27.011479041), (-28.284271247, 28.284271247))
            ThreePointArc((-28.284271247, 28.284271247), (-24.059596246, 31.386624117), (-19.1, 33.082170425))
            Line((-19.1, 33.082170425), (-20, 34.641016151))
            ThreePointArc((-20, 34.641016151), (-15.116329301, 36.544232561), (-9.886887523, 36.898366564))
            Line((-9.886887523, 36.898366564), (-10.352761804, 38.637033052))
            ThreePointArc((-10.352761804, 38.637033052), (-5.142909495, 39.211411947), (0, 38.2))
        make_face(mode=Mode.SUBTRACT)
    extrude(amount=SALIENTE_EXTRUIR9_DEPTH)
    extrude(saliente_extruir9_sk.sketch, amount=-SALIENTE_EXTRUIR9_DEPTH_BACK)


solid = part.part
